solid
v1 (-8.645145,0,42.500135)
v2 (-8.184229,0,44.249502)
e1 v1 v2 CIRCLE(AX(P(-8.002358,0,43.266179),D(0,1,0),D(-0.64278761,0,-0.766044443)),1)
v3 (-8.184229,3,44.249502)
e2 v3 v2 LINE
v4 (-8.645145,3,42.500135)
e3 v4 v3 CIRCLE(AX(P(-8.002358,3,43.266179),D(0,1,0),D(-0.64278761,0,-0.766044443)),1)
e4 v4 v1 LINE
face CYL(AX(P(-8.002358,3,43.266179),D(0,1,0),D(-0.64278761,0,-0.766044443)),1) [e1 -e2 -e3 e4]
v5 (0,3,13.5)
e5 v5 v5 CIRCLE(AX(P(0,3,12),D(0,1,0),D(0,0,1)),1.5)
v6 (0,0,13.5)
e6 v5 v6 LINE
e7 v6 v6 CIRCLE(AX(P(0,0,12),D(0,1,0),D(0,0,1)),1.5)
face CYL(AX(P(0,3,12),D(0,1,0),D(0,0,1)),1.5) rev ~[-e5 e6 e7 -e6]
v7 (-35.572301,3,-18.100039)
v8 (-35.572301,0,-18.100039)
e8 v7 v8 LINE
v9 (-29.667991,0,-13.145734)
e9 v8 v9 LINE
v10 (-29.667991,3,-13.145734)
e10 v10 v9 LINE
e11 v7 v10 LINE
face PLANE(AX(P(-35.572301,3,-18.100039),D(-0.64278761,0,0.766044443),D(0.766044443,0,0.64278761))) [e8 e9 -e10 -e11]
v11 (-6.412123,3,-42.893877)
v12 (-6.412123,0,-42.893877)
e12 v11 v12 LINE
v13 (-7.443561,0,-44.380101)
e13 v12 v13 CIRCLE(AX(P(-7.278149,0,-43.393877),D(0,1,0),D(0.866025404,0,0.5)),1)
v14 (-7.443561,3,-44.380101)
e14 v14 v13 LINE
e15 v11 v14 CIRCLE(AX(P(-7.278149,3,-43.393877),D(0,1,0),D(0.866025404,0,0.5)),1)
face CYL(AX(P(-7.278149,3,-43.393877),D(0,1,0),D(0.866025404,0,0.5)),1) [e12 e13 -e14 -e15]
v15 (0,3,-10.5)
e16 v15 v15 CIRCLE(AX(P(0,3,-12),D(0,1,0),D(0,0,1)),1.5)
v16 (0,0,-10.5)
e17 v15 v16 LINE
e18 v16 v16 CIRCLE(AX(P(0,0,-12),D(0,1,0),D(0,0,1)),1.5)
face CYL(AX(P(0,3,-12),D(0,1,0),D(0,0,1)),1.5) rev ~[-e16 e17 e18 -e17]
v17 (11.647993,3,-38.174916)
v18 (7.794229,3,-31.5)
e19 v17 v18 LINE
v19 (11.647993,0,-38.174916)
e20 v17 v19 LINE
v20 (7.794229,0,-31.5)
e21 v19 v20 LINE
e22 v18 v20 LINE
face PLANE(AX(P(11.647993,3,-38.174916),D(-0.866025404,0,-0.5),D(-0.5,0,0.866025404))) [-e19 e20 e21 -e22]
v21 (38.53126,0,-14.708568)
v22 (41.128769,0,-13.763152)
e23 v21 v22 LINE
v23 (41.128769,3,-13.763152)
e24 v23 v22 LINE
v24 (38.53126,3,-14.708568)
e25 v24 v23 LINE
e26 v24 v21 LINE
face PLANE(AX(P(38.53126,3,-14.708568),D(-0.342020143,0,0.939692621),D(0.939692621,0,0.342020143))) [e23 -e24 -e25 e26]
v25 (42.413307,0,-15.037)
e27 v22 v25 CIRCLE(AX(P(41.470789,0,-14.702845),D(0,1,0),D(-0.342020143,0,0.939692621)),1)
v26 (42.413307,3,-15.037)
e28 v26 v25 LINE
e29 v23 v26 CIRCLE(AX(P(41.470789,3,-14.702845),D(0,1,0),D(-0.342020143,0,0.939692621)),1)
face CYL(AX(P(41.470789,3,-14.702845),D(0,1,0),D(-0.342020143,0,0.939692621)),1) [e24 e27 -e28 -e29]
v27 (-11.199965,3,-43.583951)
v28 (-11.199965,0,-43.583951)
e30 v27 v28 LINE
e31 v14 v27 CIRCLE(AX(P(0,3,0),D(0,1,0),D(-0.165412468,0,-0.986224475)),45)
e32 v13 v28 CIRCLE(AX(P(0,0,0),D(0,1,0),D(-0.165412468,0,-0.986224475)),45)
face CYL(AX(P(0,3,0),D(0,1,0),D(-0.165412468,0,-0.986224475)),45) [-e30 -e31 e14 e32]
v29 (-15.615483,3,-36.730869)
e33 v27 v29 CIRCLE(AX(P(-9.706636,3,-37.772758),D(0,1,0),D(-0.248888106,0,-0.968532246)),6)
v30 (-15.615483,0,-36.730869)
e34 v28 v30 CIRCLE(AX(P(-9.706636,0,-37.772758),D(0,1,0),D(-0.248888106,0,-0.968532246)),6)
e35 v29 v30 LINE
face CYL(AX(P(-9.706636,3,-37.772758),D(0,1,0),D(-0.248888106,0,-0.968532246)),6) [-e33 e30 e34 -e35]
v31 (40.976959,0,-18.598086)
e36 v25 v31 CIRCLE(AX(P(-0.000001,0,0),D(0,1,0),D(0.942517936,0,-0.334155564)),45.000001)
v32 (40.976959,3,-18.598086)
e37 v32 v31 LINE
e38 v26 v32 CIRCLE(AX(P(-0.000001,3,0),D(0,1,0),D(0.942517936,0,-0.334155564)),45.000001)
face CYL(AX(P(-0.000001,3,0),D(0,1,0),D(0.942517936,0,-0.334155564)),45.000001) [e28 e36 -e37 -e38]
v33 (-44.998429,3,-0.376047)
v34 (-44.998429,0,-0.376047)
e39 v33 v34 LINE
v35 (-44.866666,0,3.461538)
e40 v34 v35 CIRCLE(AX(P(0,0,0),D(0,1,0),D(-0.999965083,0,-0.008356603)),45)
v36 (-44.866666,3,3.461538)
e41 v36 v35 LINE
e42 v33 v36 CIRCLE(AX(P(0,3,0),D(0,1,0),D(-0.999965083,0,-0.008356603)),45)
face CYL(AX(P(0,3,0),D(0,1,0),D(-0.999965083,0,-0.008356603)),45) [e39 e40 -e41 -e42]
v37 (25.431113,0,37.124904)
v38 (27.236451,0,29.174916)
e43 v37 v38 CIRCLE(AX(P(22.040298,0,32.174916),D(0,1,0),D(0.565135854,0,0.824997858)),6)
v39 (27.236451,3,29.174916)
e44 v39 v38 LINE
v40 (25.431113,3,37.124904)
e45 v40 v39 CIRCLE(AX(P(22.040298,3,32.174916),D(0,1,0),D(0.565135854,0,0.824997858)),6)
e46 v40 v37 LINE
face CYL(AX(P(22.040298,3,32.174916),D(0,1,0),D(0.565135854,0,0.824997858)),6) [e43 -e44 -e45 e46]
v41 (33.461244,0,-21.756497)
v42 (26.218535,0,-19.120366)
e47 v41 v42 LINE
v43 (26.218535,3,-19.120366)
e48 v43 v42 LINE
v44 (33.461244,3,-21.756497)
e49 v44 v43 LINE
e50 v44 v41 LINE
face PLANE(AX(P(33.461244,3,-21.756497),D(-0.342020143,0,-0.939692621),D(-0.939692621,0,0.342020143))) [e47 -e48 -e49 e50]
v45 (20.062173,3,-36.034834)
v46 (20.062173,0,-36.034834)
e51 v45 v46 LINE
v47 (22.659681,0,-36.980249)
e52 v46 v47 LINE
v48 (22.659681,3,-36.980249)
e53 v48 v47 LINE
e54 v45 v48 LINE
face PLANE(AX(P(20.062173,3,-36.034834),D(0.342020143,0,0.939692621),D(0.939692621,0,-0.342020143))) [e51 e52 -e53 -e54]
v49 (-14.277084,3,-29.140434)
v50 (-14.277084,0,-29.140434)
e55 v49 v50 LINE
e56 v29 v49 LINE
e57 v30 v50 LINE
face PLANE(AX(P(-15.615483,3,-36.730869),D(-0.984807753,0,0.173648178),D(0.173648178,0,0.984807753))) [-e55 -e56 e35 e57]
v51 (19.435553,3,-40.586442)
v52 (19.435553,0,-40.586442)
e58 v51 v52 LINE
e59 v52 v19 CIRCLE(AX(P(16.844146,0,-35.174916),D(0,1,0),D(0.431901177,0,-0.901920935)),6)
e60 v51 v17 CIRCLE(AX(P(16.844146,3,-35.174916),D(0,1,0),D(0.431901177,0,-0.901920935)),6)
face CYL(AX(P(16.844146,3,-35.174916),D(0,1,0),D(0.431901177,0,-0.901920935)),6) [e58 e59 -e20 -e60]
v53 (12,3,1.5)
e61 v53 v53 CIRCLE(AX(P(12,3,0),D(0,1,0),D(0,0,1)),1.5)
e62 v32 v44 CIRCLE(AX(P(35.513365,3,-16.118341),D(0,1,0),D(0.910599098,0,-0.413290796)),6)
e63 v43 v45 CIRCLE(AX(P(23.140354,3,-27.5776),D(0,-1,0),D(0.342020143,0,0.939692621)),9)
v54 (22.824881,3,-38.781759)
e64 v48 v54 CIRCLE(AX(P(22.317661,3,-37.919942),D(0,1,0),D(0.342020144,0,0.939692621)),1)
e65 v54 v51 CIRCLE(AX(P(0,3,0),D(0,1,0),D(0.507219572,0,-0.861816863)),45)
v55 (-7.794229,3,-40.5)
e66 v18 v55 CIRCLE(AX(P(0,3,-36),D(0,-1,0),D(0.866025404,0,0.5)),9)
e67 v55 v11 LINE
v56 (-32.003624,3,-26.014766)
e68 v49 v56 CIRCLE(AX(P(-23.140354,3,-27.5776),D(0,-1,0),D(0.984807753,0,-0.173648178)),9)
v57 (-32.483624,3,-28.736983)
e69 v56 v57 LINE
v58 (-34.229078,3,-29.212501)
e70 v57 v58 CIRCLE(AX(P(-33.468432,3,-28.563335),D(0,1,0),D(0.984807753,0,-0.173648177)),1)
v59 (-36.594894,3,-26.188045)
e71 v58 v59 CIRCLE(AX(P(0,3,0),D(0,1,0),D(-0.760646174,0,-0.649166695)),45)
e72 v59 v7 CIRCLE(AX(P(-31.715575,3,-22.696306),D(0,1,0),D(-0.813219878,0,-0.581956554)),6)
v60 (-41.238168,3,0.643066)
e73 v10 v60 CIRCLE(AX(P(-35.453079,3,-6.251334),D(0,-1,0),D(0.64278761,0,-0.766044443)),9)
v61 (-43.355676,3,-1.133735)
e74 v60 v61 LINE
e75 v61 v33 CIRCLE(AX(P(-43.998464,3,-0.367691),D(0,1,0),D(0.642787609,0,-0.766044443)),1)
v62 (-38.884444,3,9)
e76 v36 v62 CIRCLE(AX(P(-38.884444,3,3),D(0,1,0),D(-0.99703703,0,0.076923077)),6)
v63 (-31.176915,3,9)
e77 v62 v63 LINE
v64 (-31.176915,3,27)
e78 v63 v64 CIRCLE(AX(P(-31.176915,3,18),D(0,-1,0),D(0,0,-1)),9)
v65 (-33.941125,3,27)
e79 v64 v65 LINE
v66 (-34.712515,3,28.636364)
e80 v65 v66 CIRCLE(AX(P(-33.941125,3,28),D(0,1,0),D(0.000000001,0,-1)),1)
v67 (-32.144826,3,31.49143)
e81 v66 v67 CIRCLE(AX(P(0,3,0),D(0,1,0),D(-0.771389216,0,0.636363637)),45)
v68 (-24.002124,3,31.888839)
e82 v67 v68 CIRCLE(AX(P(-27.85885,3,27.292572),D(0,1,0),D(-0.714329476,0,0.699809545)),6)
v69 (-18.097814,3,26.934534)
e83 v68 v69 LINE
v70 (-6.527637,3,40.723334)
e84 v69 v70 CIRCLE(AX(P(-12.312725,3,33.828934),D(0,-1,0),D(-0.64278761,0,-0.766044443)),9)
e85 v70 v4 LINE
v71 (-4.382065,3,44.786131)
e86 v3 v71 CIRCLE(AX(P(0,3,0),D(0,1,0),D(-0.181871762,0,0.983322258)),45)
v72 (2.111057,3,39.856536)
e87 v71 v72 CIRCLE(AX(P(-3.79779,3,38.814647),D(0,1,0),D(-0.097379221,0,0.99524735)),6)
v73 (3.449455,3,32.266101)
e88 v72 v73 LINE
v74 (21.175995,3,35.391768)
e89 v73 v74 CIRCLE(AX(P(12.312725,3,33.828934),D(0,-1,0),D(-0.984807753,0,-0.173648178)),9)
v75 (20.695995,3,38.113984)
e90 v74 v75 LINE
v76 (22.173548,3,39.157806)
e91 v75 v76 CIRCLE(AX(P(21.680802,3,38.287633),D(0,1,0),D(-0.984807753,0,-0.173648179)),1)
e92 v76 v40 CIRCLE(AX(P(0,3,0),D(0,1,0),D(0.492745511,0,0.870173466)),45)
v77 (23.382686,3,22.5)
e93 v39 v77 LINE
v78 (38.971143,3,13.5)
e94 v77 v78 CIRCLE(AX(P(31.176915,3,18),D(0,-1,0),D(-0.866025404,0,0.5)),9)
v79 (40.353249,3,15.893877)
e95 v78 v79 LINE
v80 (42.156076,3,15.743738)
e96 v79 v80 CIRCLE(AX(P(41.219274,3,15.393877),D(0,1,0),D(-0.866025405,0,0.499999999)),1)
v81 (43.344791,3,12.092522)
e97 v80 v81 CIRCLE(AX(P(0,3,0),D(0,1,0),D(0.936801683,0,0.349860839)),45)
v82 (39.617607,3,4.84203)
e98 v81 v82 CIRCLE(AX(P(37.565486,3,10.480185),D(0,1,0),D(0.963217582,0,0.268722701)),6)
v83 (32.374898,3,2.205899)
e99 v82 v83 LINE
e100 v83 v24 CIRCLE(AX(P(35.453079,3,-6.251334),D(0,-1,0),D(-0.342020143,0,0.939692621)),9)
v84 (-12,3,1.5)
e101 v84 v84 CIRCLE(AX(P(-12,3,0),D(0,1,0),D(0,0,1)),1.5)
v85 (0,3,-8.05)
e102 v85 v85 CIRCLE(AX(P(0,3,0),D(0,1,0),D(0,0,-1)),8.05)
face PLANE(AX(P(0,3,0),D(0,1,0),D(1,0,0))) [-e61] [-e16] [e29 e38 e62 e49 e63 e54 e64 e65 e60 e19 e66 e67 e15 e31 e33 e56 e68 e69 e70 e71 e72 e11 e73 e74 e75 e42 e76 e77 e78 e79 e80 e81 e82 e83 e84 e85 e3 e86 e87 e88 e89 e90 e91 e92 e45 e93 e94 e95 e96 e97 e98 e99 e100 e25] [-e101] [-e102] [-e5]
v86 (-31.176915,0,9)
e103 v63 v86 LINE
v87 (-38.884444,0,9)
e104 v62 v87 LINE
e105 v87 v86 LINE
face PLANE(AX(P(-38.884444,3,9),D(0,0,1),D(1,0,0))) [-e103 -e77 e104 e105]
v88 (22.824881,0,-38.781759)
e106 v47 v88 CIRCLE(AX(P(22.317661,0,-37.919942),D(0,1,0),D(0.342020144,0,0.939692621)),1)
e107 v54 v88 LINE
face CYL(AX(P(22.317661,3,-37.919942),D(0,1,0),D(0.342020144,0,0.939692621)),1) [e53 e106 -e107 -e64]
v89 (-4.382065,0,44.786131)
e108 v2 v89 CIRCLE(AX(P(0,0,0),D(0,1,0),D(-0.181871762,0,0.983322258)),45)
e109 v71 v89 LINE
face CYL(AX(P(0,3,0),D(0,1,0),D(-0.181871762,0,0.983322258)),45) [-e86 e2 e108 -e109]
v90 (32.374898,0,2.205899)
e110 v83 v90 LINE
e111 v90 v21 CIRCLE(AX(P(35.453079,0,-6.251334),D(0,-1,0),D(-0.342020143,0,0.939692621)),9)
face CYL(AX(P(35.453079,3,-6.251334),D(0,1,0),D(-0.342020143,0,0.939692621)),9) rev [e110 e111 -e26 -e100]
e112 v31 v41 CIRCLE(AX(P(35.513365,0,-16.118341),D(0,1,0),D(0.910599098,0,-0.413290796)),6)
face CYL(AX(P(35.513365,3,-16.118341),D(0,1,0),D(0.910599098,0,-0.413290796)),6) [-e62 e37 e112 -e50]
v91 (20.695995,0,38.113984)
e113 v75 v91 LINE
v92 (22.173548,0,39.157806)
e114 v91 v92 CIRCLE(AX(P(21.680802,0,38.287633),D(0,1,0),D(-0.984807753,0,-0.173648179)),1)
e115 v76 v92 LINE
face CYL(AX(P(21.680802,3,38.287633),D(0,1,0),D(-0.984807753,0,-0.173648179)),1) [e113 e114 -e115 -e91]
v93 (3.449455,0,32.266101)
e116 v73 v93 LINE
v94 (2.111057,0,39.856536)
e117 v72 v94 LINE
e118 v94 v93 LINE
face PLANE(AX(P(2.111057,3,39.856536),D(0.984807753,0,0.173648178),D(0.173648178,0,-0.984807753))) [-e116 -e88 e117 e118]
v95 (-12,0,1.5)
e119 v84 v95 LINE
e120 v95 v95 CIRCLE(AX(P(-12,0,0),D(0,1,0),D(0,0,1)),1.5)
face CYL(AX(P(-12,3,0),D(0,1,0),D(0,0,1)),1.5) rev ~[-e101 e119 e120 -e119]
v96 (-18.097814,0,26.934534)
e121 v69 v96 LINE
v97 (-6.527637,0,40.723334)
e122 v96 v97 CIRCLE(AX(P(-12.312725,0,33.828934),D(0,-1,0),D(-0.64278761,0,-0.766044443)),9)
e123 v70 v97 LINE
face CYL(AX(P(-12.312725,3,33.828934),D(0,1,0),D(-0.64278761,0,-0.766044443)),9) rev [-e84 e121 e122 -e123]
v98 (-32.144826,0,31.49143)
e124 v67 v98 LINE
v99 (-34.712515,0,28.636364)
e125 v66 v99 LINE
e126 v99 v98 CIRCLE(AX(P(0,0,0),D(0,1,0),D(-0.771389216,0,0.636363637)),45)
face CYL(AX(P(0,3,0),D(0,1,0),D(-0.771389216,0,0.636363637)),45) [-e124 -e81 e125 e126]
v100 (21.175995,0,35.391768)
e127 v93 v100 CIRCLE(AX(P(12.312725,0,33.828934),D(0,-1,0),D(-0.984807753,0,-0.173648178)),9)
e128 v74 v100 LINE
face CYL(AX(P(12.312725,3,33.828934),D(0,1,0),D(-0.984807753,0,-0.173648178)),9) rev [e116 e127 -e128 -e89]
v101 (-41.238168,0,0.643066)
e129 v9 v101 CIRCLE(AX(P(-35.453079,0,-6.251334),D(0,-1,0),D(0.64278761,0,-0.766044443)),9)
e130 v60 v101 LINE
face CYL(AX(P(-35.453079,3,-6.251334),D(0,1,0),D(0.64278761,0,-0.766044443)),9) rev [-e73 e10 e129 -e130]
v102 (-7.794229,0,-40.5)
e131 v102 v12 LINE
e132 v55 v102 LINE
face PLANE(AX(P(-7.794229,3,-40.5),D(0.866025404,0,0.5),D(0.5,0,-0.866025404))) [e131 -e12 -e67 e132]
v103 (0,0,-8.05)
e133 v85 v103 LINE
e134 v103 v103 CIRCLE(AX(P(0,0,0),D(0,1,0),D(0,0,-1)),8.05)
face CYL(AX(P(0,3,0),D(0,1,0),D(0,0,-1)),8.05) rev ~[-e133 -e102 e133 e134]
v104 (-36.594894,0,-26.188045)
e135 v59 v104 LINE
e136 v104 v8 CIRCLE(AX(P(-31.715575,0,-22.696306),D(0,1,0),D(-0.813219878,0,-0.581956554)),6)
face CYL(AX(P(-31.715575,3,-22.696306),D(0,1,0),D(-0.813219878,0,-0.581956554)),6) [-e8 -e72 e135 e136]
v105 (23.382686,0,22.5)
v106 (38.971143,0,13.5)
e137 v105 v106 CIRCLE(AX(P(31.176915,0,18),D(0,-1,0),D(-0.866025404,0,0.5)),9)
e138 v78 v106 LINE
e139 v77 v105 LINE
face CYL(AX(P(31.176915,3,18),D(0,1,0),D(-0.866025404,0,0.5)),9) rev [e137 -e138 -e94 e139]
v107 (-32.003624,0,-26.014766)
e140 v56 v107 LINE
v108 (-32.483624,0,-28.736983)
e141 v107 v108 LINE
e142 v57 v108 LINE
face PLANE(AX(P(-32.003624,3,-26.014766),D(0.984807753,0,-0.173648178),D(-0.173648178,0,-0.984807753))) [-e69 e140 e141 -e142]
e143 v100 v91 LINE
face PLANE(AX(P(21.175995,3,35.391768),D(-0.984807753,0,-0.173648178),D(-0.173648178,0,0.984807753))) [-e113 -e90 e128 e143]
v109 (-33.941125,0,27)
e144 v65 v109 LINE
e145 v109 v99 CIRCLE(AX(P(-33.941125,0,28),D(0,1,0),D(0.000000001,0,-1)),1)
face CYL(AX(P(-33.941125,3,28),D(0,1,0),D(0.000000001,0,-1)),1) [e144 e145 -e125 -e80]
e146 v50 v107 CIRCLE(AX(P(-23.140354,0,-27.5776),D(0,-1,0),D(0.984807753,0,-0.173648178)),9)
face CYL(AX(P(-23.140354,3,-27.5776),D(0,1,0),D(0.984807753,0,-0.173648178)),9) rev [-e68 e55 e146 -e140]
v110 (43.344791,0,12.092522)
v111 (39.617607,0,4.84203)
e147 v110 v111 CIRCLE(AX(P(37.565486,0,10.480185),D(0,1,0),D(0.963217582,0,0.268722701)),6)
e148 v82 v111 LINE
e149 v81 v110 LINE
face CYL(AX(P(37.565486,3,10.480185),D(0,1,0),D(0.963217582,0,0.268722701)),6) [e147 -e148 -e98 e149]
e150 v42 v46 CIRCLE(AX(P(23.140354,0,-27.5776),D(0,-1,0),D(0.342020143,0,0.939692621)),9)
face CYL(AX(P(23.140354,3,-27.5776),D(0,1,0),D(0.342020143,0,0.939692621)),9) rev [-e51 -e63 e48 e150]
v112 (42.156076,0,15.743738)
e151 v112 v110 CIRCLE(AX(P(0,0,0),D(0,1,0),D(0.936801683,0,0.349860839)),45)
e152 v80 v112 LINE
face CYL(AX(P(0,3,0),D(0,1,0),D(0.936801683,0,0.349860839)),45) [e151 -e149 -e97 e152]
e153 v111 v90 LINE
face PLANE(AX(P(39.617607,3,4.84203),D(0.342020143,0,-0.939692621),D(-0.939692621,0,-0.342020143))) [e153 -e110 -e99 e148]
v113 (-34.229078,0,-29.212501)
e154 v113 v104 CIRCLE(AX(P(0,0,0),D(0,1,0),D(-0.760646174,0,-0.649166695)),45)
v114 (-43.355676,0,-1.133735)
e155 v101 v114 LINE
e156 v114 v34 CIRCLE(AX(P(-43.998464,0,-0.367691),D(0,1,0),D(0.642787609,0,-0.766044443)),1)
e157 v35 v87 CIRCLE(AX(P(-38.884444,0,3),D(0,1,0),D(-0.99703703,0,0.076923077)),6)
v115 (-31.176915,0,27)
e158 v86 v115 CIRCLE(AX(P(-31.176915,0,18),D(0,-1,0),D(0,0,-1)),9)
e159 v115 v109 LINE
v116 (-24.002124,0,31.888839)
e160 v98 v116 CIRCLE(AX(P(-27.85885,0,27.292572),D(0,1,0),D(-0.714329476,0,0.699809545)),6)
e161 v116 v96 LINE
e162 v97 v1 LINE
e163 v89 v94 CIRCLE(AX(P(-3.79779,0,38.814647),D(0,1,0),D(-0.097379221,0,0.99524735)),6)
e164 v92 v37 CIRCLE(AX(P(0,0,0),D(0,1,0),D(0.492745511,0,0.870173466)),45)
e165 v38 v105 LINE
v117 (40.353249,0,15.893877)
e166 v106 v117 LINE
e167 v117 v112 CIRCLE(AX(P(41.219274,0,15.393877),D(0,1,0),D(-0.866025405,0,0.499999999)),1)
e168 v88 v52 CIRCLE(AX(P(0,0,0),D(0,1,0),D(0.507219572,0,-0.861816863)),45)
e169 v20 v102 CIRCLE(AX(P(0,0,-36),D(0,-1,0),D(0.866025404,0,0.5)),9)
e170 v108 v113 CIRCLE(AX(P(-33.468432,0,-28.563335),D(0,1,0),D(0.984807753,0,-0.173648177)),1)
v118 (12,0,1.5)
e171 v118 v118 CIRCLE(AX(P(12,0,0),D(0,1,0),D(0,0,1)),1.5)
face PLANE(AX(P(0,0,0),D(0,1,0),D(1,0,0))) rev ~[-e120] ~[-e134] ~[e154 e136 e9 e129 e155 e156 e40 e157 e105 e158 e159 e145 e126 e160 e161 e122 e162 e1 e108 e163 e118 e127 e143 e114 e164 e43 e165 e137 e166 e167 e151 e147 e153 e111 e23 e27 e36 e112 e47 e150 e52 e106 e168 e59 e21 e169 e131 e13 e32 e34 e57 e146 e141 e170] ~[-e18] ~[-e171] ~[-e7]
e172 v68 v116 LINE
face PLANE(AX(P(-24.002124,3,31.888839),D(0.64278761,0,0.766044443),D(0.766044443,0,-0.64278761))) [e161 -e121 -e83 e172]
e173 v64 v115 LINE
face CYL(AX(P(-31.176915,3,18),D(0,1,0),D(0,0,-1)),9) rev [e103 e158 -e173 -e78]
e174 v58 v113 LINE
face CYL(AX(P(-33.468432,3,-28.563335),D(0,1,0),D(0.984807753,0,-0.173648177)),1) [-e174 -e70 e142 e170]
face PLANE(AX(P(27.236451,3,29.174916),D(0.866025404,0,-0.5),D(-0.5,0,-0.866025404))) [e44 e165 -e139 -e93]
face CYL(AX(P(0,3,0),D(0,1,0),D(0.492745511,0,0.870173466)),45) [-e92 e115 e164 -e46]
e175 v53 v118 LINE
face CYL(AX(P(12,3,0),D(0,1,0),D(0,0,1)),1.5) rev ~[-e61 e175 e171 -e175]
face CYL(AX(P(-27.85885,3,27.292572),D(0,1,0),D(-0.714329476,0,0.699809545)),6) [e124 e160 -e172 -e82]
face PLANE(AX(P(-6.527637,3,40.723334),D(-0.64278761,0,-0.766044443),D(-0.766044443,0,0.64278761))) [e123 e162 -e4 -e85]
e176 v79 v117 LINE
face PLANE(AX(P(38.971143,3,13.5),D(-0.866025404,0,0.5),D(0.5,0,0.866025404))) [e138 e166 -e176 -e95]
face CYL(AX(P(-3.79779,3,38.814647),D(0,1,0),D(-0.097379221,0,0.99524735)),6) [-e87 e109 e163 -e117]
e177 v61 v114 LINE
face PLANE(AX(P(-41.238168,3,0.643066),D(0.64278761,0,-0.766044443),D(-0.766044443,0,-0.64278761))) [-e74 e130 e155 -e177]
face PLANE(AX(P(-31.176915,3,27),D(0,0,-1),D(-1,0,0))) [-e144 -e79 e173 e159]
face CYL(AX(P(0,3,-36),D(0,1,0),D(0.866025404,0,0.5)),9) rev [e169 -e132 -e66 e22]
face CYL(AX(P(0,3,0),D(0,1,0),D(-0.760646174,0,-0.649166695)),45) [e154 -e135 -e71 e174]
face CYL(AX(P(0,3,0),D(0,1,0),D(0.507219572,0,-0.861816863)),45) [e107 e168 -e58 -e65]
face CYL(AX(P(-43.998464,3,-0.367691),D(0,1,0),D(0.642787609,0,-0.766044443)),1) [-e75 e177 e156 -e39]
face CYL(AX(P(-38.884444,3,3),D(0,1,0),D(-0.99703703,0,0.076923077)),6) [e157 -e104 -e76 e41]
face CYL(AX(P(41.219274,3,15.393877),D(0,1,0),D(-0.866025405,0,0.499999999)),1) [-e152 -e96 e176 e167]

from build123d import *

# Parameters (mm, degrees)
SKETCH_1_R      = 8.05
SKETCH_1_R_2    = 1.5
EXTRUDE_1_DEPTH = 3


with BuildPart() as part:
    # 草图1 → 凸台-拉伸1 (new body)
    with BuildSketch(Plane(origin=(0, 3, 0), x_dir=(1, 0, 0), z_dir=(0, 1, 0))):
        with BuildLine():
            Line((-38.88444419, -9), (-31.176914536, -9))
            ThreePointArc((-31.176914536, -9), (-22.176914536, -18), (-31.176914536, -27))
            Line((-31.176914536, -27), (-33.941125497, -27))
            ThreePointArc((-33.941125497, -27), (-34.845659531, -27.573598567), (-34.712514713, -28.636363636))
            ThreePointArc((-34.712514713, -28.636363636), (-33.459137261, -30.091296644), (-32.144826423, -31.491429536))
            ThreePointArc((-32.144826423, -31.491429536), (-28.151334956, -33.285439049), (-24.002123909, -31.888838923))
            Line((-24.002123909, -31.888838923), (-18.097813647, -26.93453436))
            ThreePointArc((-18.097813647, -26.93453436), (-5.418325172, -28.043845861), (-6.527636673, -40.723334336))
            Line((-6.527636673, -40.723334336), (-8.645145119, -42.500134892))
            ThreePointArc((-8.645145119, -42.500134892), (-8.969356337, -43.520960157), (-8.18422927, -44.249501593))
            ThreePointArc((-8.18422927, -44.249501593), (-6.288873528, -44.558389443), (-4.382064939, -44.786130742))
            ThreePointArc((-4.382064939, -44.786130742), (-0.169705906, -43.593454926), (2.111056904, -39.856535709))
            Line((2.111056904, -39.856535709), (3.449455383, -32.266100749))
            ThreePointArc((3.449455383, -32.266100749), (13.875558759, -24.965664571), (21.175994937, -35.391767947))
            Line((21.175994937, -35.391767947), (20.695994741, -38.113984332))
            ThreePointArc((20.695994741, -38.113984332), (21.10380837, -39.104380808), (22.173548005, -39.157805976))
            ThreePointArc((22.173548005, -39.157805976), (23.824024022, -38.17611661), (25.431113431, -37.124903632))
            ThreePointArc((25.431113431, -37.124903632), (27.891330424, -33.503608756), (27.236450729, -29.174916481))
            Line((27.236450729, -29.174916481), (23.382685902, -22.5))
            ThreePointArc((23.382685902, -22.5), (26.676914536, -10.205771366), (38.97114317, -13.5))
            Line((38.97114317, -13.5), (40.353248651, -15.893876913))
            ThreePointArc((40.353248651, -15.893876913), (41.302266598, -16.390427082), (42.156075737, -15.743737752))
            ThreePointArc((42.156075737, -15.743737752), (42.789395957, -13.930814535), (43.344791191, -12.092521515))
            ThreePointArc((43.344791191, -12.092521515), (42.901703271, -7.737051698), (39.617606559, -4.842029588))
            Line((39.617606559, -4.842029588), (32.374897819, -2.205899191))
            ThreePointArc((32.374897819, -2.205899191), (26.995845521, 9.329515686), (38.531260398, 14.708567983))
            Line((38.531260398, 14.708567983), (41.12876904, 13.763152154))
            ThreePointArc((41.12876904, 13.763152154), (42.174935261, 13.992789635), (42.41330712, 15.037000338))
            ThreePointArc((42.41330712, 15.037000338), (41.733133973, 16.832870485), (40.97695943, 18.598085813))
            ThreePointArc((40.97695943, 18.598085813), (37.837892358, 21.649757837), (33.461243979, 21.756496762))
            Line((33.461243979, 21.756496762), (26.218535239, 19.120366365))
            ThreePointArc((26.218535239, 19.120366365), (14.683120362, 24.499418662), (20.062172659, 36.034833539))
            Line((20.062172659, 36.034833539), (22.659681301, 36.980249368))
            ThreePointArc((22.659681301, 36.980249368), (23.313482993, 37.828624569), (22.824880729, 38.781758852))
            ThreePointArc((22.824880729, 38.781758852), (21.149474791, 39.720268328), (19.435552943, 40.586442093))
            ThreePointArc((19.435552943, 40.586442093), (15.06931109, 40.906405071), (11.647993461, 38.174916481))
            Line((11.647993461, 38.174916481), (7.794228634, 31.5))
            ThreePointArc((7.794228634, 31.5), (-4.5, 28.205771366), (-7.794228634, 40.5))
            Line((-7.794228634, 40.5), (-6.412123154, 42.893876913))
            ThreePointArc((-6.412123154, 42.893876913), (-6.456607068, 43.964025649), (-7.443561025, 44.380101389))
            ThreePointArc((-7.443561025, 44.380101389), (-9.330258696, 44.022111179), (-11.199964768, 43.583951051))
            ThreePointArc((-11.199964768, 43.583951051), (-14.750368314, 41.022490747), (-15.61548265, 36.730868511))
            Line((-15.61548265, 36.730868511), (-14.277084172, 29.140433551))
            ThreePointArc((-14.277084172, 29.140433551), (-21.57752035, 18.714330175), (-32.003623726, 26.014766353))
            Line((-32.003623726, 26.014766353), (-32.483623922, 28.736982738))
            ThreePointArc((-32.483623922, 28.736982738), (-33.205578925, 29.528170522), (-34.229077849, 29.212501255))
            ThreePointArc((-34.229077849, 29.212501255), (-35.444260445, 27.725518958), (-36.59489449, 26.18804493))
            ThreePointArc((-36.59489449, 26.18804493), (-37.668186452, 21.943697089), (-35.572300883, 18.100038947))
            Line((-35.572300883, 18.100038947), (-29.667990621, 13.145734384))
            ThreePointArc((-29.667990621, 13.145734384), (-28.55867912, 0.466245909), (-41.238167596, -0.643065592))
            Line((-41.238167596, -0.643065592), (-43.355676042, 1.133734964))
            ThreePointArc((-43.355676042, 1.133734964), (-44.417291364, 1.275756238), (-44.998428734, 0.376047124))
            ThreePointArc((-44.998428734, 0.376047124), (-44.973498813, -1.544151718), (-44.866666374, -3.461538462))
            ThreePointArc((-44.866666374, -3.461538462), (-42.960641513, -7.402796314), (-38.88444419, -9))
        make_face()
        with Locations(Location((0, 0, 0), (0, 0, 90))):
            Circle(SKETCH_1_R, mode=Mode.SUBTRACT)
        with Locations(Location((0, 12, 0), (0, 0, 270))):
            Circle(SKETCH_1_R_2, mode=Mode.SUBTRACT)
        with Locations(Location((12, 0, 0), (0, 0, 270))):
            Circle(SKETCH_1_R_2, mode=Mode.SUBTRACT)
        with Locations(Location((0, -12, 0), (0, 0, 270))):
            Circle(SKETCH_1_R_2, mode=Mode.SUBTRACT)
        with Locations(Location((-12, 0, 0), (0, 0, 270))):
            Circle(SKETCH_1_R_2, mode=Mode.SUBTRACT)
    extrude(amount=-EXTRUDE_1_DEPTH)


solid = part.part
